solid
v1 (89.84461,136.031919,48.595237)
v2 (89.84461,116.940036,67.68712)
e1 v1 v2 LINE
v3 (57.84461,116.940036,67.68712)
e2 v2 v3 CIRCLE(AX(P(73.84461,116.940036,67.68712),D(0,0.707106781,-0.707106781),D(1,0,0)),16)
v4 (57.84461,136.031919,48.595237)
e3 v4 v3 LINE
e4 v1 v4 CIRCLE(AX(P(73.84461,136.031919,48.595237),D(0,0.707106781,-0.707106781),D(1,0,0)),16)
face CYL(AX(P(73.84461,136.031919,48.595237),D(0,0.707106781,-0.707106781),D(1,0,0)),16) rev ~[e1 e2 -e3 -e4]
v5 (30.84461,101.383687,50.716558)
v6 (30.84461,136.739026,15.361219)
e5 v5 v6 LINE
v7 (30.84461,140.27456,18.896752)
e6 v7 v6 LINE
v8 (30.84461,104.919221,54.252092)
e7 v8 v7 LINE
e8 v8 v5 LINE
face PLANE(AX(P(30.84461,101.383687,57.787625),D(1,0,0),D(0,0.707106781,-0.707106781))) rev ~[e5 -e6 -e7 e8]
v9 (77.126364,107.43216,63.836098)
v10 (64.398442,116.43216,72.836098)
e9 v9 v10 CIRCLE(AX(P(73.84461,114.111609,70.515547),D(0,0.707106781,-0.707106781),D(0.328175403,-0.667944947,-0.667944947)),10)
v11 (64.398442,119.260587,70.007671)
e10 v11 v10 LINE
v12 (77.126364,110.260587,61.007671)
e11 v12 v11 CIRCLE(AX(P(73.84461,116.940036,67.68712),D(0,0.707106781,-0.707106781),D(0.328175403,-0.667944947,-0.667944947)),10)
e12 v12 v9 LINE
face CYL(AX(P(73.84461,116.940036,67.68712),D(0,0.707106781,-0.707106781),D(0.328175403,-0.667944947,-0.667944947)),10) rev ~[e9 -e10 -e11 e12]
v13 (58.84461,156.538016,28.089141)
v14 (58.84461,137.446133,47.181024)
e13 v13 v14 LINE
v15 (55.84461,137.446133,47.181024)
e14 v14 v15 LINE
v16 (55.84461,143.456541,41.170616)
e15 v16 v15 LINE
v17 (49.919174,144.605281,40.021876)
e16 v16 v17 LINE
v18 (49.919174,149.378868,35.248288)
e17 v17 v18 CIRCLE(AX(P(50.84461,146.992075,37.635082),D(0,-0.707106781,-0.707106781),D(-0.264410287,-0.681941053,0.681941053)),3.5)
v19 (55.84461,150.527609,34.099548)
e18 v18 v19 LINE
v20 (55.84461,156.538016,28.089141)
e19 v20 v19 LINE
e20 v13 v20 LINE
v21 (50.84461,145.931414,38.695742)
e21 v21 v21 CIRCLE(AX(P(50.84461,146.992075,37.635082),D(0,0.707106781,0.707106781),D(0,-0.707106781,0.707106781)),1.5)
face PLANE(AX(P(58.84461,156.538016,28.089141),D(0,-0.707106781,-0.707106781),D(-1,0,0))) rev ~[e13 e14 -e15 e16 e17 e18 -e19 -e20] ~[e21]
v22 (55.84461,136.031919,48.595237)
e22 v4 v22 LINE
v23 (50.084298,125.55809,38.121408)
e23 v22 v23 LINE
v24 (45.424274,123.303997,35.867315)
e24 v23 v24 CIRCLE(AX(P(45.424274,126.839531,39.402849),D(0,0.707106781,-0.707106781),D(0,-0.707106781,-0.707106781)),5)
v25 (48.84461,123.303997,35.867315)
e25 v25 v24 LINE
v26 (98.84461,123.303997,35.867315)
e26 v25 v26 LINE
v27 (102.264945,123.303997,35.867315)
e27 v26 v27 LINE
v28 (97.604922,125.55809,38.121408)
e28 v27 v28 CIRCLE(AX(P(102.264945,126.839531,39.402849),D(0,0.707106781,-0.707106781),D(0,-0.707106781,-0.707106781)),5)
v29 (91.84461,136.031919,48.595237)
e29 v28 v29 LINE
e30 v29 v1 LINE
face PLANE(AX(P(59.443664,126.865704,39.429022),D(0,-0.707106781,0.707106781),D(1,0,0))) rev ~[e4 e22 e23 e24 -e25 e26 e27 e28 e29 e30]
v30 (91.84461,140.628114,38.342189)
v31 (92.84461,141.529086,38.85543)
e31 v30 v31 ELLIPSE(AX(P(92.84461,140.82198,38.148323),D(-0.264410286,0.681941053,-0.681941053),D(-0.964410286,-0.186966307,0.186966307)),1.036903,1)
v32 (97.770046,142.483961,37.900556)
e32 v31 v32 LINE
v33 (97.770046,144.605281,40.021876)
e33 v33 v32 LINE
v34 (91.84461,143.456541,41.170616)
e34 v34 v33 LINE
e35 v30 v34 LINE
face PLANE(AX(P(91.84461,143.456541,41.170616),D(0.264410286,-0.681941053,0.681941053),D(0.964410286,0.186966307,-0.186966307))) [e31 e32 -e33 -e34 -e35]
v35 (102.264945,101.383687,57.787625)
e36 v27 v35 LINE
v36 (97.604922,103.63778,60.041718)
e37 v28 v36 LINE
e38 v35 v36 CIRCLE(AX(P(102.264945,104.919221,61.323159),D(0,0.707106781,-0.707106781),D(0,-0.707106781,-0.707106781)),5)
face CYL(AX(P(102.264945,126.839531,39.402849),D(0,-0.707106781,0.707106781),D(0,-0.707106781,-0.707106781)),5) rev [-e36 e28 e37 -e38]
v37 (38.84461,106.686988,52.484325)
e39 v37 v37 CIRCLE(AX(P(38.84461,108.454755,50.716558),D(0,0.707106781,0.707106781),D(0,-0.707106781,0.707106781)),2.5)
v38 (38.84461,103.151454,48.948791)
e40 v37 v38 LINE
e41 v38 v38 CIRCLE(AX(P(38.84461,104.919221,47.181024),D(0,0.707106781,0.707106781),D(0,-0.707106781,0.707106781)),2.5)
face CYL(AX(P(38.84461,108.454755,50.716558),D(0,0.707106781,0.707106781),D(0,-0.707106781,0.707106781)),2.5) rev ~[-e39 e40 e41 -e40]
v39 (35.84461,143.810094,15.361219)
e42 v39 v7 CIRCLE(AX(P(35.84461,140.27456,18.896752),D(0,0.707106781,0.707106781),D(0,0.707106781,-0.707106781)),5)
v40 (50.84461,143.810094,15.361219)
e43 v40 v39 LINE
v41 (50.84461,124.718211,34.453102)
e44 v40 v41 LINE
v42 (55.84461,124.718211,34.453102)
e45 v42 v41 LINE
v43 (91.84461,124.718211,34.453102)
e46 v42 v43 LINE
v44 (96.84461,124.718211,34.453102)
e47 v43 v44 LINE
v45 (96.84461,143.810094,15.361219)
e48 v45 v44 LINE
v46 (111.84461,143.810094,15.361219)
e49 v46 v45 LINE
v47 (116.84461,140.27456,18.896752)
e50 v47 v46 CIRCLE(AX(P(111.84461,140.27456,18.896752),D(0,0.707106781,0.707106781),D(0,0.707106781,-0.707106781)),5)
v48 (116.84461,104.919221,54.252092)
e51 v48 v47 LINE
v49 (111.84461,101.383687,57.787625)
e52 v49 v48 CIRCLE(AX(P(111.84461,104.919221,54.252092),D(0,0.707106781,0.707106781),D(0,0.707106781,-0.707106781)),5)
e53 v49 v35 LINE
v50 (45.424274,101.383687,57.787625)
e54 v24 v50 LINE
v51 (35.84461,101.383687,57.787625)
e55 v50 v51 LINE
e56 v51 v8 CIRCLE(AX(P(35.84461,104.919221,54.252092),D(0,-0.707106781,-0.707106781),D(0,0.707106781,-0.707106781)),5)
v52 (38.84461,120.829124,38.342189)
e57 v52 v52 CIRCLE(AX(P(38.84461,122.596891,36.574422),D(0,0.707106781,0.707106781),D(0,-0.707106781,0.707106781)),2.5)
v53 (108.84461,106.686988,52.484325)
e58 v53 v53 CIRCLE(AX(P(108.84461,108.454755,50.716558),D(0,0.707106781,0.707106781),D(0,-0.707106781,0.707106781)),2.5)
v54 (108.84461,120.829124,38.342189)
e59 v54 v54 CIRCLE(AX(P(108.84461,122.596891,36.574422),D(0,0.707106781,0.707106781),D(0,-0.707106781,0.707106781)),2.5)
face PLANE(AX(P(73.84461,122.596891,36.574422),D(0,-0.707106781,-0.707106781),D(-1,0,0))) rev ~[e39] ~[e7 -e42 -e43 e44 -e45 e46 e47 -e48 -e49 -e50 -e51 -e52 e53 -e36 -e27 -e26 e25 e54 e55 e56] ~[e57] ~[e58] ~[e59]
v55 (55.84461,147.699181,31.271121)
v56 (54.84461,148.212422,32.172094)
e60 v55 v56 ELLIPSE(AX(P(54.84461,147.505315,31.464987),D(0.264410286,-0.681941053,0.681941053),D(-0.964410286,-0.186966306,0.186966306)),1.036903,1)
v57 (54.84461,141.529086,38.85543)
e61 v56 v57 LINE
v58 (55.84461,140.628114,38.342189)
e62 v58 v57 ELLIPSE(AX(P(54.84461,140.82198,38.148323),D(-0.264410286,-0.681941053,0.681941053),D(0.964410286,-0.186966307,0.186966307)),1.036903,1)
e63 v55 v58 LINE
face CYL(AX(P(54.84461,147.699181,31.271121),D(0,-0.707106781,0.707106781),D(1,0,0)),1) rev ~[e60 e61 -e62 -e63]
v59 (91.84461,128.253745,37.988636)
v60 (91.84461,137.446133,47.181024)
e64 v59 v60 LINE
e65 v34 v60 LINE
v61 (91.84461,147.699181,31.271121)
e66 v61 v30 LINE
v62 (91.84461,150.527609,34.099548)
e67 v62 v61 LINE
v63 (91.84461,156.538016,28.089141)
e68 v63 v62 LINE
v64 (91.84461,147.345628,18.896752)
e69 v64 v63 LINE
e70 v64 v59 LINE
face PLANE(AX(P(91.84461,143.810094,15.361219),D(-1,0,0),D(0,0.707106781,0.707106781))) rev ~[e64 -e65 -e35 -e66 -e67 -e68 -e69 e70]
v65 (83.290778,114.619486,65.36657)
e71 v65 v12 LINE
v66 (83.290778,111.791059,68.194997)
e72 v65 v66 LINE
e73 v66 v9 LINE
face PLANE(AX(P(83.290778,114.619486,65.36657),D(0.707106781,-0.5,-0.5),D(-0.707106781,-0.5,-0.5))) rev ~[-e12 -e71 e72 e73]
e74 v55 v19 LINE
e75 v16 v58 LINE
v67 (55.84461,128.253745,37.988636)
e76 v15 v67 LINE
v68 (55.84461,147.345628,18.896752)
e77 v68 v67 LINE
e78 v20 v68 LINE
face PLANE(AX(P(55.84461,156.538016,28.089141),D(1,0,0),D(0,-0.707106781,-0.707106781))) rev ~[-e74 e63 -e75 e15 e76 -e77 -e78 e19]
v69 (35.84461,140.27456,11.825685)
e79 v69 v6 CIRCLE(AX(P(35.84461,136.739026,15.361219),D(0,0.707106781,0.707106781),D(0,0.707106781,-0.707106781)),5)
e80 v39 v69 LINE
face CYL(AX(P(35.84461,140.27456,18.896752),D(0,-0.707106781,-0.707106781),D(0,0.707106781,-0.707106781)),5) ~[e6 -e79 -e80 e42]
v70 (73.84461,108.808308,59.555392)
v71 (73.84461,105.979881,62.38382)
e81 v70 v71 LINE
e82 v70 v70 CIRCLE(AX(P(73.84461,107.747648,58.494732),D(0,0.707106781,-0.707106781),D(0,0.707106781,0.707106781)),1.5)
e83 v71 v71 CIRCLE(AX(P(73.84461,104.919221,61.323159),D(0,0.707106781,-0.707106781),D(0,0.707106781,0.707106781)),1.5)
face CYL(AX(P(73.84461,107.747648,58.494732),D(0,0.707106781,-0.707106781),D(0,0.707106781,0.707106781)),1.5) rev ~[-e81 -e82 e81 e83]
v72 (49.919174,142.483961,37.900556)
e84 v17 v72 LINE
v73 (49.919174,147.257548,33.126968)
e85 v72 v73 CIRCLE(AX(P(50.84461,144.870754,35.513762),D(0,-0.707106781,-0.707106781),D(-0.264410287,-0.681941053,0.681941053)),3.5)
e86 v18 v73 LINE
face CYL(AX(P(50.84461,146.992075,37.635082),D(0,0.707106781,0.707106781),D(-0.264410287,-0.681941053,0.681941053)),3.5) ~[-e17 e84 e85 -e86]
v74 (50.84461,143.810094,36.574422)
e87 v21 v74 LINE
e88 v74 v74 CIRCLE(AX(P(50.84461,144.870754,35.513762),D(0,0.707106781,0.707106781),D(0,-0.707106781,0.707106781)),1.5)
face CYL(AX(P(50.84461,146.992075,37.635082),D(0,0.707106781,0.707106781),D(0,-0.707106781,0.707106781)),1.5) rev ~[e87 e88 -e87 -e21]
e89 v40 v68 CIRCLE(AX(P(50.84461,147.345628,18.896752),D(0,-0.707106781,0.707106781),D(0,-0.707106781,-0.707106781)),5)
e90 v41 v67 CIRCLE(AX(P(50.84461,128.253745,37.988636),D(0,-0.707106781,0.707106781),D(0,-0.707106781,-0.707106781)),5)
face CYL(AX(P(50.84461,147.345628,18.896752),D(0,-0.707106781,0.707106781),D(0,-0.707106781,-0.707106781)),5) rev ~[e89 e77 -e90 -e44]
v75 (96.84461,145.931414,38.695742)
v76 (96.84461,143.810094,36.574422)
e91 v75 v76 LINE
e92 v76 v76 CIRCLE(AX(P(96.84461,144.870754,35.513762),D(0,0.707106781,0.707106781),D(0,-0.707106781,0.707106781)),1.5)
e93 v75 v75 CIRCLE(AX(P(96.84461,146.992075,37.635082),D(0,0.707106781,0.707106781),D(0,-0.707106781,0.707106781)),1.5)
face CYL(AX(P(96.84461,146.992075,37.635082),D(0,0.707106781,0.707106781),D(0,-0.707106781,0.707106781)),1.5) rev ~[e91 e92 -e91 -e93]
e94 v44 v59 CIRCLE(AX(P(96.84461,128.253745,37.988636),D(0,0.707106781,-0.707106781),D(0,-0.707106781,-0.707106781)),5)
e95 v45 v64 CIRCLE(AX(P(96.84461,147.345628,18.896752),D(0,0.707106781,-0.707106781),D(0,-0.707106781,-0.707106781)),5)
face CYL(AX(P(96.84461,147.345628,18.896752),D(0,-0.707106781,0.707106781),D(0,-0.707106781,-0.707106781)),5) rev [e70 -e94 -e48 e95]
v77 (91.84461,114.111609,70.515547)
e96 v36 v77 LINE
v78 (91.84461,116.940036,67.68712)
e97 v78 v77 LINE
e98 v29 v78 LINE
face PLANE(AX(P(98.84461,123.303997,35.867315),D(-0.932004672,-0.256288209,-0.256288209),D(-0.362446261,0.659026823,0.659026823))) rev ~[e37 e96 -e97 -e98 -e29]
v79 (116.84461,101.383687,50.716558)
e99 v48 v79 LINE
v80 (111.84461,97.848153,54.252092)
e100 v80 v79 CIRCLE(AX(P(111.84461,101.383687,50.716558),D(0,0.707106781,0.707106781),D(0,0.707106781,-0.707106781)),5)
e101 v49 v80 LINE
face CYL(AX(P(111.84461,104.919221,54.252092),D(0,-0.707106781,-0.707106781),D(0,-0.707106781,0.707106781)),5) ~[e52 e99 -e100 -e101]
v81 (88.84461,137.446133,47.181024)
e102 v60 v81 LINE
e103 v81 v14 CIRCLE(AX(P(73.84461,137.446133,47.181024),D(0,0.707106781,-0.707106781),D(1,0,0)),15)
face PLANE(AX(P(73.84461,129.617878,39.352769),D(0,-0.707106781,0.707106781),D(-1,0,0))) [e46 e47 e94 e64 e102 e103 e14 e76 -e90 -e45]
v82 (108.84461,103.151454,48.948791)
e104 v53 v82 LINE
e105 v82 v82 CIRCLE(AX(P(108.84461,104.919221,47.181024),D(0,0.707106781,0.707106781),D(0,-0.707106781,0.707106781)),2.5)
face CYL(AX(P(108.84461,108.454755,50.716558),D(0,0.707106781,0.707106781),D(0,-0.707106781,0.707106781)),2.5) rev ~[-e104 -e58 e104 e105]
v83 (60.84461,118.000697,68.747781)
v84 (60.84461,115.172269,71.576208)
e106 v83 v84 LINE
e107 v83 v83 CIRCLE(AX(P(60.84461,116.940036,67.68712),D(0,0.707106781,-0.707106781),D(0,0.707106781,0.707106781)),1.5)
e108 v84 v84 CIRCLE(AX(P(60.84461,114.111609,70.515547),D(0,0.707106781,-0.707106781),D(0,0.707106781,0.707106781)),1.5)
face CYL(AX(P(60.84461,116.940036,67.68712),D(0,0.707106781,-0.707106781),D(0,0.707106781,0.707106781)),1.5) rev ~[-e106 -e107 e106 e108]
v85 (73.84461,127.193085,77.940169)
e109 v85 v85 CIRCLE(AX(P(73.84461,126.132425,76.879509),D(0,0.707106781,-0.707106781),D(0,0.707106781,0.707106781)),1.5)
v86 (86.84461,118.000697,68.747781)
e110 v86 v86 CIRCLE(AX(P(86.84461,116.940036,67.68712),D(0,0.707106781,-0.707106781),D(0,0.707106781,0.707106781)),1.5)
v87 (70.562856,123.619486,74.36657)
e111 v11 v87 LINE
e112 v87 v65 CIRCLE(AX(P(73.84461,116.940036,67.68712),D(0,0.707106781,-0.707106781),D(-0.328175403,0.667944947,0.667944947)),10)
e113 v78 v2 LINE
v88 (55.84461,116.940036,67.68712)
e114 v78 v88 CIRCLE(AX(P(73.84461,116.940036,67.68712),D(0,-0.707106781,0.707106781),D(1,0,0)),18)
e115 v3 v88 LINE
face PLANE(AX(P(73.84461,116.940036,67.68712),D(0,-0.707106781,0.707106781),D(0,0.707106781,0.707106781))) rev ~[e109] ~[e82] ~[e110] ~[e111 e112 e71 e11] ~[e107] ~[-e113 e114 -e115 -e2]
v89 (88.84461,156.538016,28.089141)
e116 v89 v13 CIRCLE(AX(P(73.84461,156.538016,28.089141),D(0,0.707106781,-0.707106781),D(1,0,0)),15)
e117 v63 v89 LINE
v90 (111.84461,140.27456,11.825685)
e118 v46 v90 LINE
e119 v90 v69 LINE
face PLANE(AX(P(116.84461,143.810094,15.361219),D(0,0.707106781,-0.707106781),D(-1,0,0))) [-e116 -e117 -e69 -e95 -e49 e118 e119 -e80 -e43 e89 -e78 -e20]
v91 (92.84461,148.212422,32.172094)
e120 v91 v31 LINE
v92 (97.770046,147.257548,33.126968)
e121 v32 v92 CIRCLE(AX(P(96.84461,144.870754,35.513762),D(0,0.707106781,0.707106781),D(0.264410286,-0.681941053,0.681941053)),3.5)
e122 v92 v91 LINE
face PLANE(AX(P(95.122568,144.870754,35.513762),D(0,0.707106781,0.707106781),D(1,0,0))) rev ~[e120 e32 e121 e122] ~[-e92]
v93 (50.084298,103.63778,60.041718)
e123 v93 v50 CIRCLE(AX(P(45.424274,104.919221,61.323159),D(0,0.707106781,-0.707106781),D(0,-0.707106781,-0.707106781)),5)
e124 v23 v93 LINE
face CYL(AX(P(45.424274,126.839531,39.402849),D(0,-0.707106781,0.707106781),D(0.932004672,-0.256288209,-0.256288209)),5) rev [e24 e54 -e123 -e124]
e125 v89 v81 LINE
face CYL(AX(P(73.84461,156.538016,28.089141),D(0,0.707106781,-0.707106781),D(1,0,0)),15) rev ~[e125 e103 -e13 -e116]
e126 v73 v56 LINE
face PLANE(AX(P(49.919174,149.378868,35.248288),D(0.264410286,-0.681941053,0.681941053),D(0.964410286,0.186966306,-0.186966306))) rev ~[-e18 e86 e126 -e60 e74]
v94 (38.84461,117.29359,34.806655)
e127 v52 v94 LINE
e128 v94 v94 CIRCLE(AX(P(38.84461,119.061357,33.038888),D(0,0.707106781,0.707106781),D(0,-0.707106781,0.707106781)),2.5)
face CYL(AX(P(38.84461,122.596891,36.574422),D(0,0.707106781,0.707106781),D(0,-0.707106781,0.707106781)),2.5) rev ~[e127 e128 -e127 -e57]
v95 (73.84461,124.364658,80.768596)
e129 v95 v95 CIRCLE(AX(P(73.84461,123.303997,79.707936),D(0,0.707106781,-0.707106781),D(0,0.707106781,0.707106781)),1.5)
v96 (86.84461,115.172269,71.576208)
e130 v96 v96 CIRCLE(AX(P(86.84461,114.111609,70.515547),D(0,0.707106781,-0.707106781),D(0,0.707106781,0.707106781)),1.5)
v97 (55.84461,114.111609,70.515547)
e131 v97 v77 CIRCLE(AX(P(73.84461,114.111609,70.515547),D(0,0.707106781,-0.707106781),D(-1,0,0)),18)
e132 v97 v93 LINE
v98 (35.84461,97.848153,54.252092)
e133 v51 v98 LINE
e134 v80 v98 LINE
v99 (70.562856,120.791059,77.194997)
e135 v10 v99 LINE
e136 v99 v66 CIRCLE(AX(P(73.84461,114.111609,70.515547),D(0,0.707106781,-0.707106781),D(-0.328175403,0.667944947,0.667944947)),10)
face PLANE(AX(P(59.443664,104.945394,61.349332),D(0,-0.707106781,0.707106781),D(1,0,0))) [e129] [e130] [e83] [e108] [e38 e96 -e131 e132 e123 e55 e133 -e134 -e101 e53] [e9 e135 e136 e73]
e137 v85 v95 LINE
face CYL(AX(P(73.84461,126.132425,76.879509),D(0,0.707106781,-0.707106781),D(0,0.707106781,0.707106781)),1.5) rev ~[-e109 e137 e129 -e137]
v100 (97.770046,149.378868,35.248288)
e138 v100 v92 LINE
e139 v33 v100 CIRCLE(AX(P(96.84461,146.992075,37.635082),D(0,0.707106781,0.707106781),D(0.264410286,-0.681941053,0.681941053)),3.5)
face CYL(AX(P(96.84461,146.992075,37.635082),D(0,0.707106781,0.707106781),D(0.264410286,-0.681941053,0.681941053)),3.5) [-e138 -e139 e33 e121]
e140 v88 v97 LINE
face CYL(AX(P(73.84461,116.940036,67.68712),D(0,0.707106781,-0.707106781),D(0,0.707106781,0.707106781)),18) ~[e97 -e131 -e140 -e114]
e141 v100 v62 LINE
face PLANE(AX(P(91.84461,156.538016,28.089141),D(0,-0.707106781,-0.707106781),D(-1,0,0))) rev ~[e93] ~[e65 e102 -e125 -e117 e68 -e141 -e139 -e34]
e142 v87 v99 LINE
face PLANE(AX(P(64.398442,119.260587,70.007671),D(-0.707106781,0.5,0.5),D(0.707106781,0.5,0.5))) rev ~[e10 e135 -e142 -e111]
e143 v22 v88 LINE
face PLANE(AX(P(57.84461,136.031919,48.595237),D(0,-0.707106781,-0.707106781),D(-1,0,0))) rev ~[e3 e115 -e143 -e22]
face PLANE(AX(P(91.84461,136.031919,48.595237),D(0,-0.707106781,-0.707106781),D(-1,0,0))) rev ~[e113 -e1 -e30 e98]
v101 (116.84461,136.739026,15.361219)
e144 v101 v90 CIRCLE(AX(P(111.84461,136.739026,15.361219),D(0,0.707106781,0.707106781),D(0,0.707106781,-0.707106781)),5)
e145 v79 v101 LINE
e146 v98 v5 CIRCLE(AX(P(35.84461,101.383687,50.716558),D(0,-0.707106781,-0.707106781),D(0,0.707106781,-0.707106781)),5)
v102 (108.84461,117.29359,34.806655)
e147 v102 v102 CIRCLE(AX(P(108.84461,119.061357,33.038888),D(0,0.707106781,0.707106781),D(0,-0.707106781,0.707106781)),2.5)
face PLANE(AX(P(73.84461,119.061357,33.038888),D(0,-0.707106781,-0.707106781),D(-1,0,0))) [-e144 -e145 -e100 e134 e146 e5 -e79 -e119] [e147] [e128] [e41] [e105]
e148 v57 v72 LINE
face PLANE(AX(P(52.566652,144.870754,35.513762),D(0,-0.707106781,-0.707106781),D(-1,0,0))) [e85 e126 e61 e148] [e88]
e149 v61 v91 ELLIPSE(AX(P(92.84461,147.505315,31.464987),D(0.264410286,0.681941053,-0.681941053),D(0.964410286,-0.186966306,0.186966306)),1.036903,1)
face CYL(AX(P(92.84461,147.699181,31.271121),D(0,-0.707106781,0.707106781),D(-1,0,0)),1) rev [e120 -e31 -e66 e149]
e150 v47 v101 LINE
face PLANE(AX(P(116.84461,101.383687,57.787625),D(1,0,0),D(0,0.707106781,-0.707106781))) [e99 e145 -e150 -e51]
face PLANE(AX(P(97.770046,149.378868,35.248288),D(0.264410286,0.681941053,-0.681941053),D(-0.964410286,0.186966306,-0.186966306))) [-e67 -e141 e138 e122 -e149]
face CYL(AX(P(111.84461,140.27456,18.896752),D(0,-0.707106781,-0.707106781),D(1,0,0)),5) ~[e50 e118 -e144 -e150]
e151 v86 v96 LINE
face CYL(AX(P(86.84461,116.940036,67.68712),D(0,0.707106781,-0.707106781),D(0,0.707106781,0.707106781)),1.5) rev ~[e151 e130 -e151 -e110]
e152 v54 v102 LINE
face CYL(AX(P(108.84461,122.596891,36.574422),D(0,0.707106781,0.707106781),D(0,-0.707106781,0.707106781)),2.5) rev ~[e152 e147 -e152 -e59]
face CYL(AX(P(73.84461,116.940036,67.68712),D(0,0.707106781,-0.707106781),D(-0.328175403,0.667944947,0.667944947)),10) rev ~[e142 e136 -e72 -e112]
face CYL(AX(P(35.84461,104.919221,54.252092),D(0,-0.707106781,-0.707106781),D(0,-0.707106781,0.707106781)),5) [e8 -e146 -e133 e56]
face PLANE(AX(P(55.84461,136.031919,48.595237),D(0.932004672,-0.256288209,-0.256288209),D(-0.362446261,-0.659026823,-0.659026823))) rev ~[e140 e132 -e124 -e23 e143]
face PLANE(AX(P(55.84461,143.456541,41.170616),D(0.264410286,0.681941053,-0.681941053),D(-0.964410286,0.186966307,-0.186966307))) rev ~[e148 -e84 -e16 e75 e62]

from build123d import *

# Parameters (mm, degrees)
SKETCH1_R           = 18
BOSS_EXTRUDE1_DEPTH = 4
CUT_EXTRUDE1_REACH  = 178.366
SKETCH2_R           = 1.5
BOSS_EXTRUDE2_START = 27
BOSS_EXTRUDE2_DEPTH = 27
SKETCH4_W           = 86
SKETCH4_H           = 60
BOSS_EXTRUDE5_DEPTH = 5
BOSS_EXTRUDE6_START = -31
BOSS_EXTRUDE6_DEPTH = 31
BOSS_EXTRUDE7_DEPTH = 27
SKETCH9_R           = 1.5
BOSS_EXTRUDE8_DEPTH = 3
FILLET2_R           = 5
FILLET3_R           = 1
CUT_EXTRUDE2_REACH  = 157.453
SKETCH10_R          = 2.5


with BuildPart() as part:
    # Sketch1 → Boss-Extrude1 (new body)
    with BuildSketch(Plane(origin=(0, 24.62645802, -24.62645802), x_dir=(1, 0, 0), z_dir=(2.4702462297909737e-15, -0.70710678118655, 0.707106781186545))):
        with Locations(Location((73.844609768, 130.551114539, 0), (0, 0, 90))):
            Circle(SKETCH1_R)
        with BuildLine():
            Line((83.2907778, 127.269360509), (77.126363797, 121.104946506))
            ThreePointArc((77.126363797, 121.104946506), (66.773541956, 123.480046727), (64.398441736, 133.832868568))
            Line((64.398441736, 133.832868568), (70.562855738, 139.997282571))
            ThreePointArc((70.562855738, 139.997282571), (80.91567758, 137.62218235), (83.2907778, 127.269360509))
        make_face(mode=Mode.SUBTRACT)
    extrude(amount=BOSS_EXTRUDE1_DEPTH)

    # Sketch2 → Cut-Extrude1 (cut, up to next)
    with BuildSketch(Plane(origin=(0, 24.62645802, -24.62645802), x_dir=(1, 0, 0), z_dir=(-2.4702462297909737e-15, 0.70710678118655, -0.707106781186545)), mode=Mode.PRIVATE) as cut_extrude1_sk1:
        with Locations(Location((86.844609768, -130.551114539, 0), (0, 0, 270))):
            Circle(SKETCH2_R)
    cut_extrude1_tool1 = extrude(cut_extrude1_sk1.sketch, amount=-CUT_EXTRUDE1_REACH, mode=Mode.PRIVATE) & part.part
    # Sketch2 → Cut-Extrude1 (cut, up to next)
    with BuildSketch(Plane(origin=(0, 24.62645802, -24.62645802), x_dir=(1, 0, 0), z_dir=(-2.4702462297909737e-15, 0.70710678118655, -0.707106781186545)), mode=Mode.PRIVATE) as cut_extrude1_sk2:
        with Locations(Location((73.844609768, -143.551114539, 0), (0, 0, 270))):
            Circle(SKETCH2_R)
    cut_extrude1_tool2 = extrude(cut_extrude1_sk2.sketch, amount=-CUT_EXTRUDE1_REACH, mode=Mode.PRIVATE) & part.part
    # Sketch2 → Cut-Extrude1 (cut, up to next)
    with BuildSketch(Plane(origin=(0, 24.62645802, -24.62645802), x_dir=(1, 0, 0), z_dir=(-2.4702462297909737e-15, 0.70710678118655, -0.707106781186545)), mode=Mode.PRIVATE) as cut_extrude1_sk3:
        with Locations(Location((60.844609768, -130.551114539, 0), (0, 0, 270))):
            Circle(SKETCH2_R)
    cut_extrude1_tool3 = extrude(cut_extrude1_sk3.sketch, amount=-CUT_EXTRUDE1_REACH, mode=Mode.PRIVATE) & part.part
    # Sketch2 → Cut-Extrude1 (cut, up to next)
    with BuildSketch(Plane(origin=(0, 24.62645802, -24.62645802), x_dir=(1, 0, 0), z_dir=(-2.4702462297909737e-15, 0.70710678118655, -0.707106781186545)), mode=Mode.PRIVATE) as cut_extrude1_sk4:
        with Locations(Location((73.844609768, -117.551114539, 0), (0, 0, 270))):
            Circle(SKETCH2_R)
    cut_extrude1_tool4 = extrude(cut_extrude1_sk4.sketch, amount=-CUT_EXTRUDE1_REACH, mode=Mode.PRIVATE) & part.part
    add(cut_extrude1_tool1.solids().sort_by_distance((86.84461, 116.940036, 67.68712))[0], mode=Mode.SUBTRACT)
    add(cut_extrude1_tool2.solids().sort_by_distance((73.84461, 126.132425, 76.879509))[0], mode=Mode.SUBTRACT)
    add(cut_extrude1_tool3.solids().sort_by_distance((60.84461, 116.940036, 67.68712))[0], mode=Mode.SUBTRACT)
    add(cut_extrude1_tool4.solids().sort_by_distance((73.84461, 107.747648, 58.494732))[0], mode=Mode.SUBTRACT)

    # Sketch3 → Boss-Extrude2 (add)
    with BuildSketch(Plane(origin=(0, 24.62645802, -24.62645802), x_dir=(1, 0, 0), z_dir=(-2.4702462297909737e-15, 0.70710678118655, -0.707106781186545)).offset(BOSS_EXTRUDE2_START)):
        with BuildLine():
            Line((91.844609768, -130.551114539), (89.844609768, -130.551114539))
            ThreePointArc((89.844609768, -130.551114539), (73.844609768, -114.551114539), (57.844609768, -130.551114539))
            Line((57.844609768, -130.551114539), (55.844609768, -130.551114539))
            ThreePointArc((55.844609768, -130.551114539), (73.844609768, -112.551114539), (91.844609768, -130.551114539))
        make_face()
    extrude(amount=-BOSS_EXTRUDE2_DEPTH)



with BuildPart() as body_2:
    # Sketch4 → Boss-Extrude5 (new body)
    with BuildSketch(Plane(origin=(0, 79.58565632, 79.58565632), x_dir=(-1, 0, 0), z_dir=(0, -0.7071067811865451, -0.70710678118655))):
        with Locations((-73.844609768, 60.827070924)):
            Rectangle(SKETCH4_W, SKETCH4_H)
    extrude(amount=BOSS_EXTRUDE5_DEPTH)


with BuildPart() as part_1:
    add(part.part)

    add(body_2.part)  # Boss-Extrude6 merges body 2
    # Sketch6 → Boss-Extrude6 (add)
    with BuildSketch(Plane(origin=(0, 21.798030895, -21.798030895), x_dir=(1, 0, 0), z_dir=(2.4702462297909737e-15, -0.70710678118655, 0.707106781186545)).offset(BOSS_EXTRUDE6_START)):
        with BuildLine():
            ThreePointArc((73.844609768, 112.551114539), (61.116687706, 117.823192477), (55.844609768, 130.551114539))
            Line((55.844609768, 130.551114539), (48.844609768, 112.551114539))
            Line((48.844609768, 112.551114539), (73.844609768, 112.551114539))
        make_face()
        with BuildLine():
            Line((57.844609768, 130.551114539), (55.844609768, 130.551114539))
            ThreePointArc((55.844609768, 130.551114539), (61.116687706, 117.823192477), (73.844609768, 112.551114539))
            ThreePointArc((73.844609768, 112.551114539), (86.572531829, 117.823192477), (91.844609768, 130.551114539))
            Line((91.844609768, 130.551114539), (89.844609768, 130.551114539))
            ThreePointArc((89.844609768, 130.551114539), (73.844609768, 114.551114539), (57.844609768, 130.551114539))
        make_face()
        with BuildLine():
            ThreePointArc((91.844609768, 130.551114539), (86.572531829, 117.823192477), (73.844609768, 112.551114539))
            Line((73.844609768, 112.551114539), (98.844609768, 112.551114539))
            Line((98.844609768, 112.551114539), (91.844609768, 130.551114539))
        make_face()
    extrude(amount=BOSS_EXTRUDE6_DEPTH)

    # Sketch8 → Boss-Extrude7 (add)
    with BuildSketch(Plane(origin=(0, 64.224437766, -64.224437766), x_dir=(1, 0, 0), z_dir=(0, 0.7071067811865498, -0.7071067811865452))):
        with BuildLine():
            Line((91.844609768, -130.551114539), (88.844609768, -130.551114539))
            ThreePointArc((88.844609768, -130.551114539), (73.844609768, -115.551114539), (58.844609768, -130.551114539))
            Line((58.844609768, -130.551114539), (55.844609768, -130.551114539))
            Line((55.844609768, -130.551114539), (55.844609768, -112.551114539))
            Line((55.844609768, -112.551114539), (91.844609768, -112.551114539))
            Line((91.844609768, -112.551114539), (91.844609768, -130.551114539))
        make_face()
    extrude(amount=-BOSS_EXTRUDE7_DEPTH)

    # Sketch9 → Boss-Extrude8 (add)
    # profile 1 of 2: a face of its own
    with BuildSketch(Plane(origin=(0, 92.313578382, 92.313578382), x_dir=(1, 0, 0), z_dir=(-6.542051911181989e-15, 0.7071067811865454, 0.7071067811865497))):
        with BuildLine():
            Line((55.844609768, 72.327070924), (49.919173765, 73.951634922))
            ThreePointArc((49.919173765, 73.951634922), (47.344609768, 77.327070924), (49.919173765, 80.702506927))
            Line((49.919173765, 80.702506927), (55.844609768, 82.327070924))
            Line((55.844609768, 82.327070924), (55.844609768, 72.327070924))
        make_face()
        with Locations(Location((50.844609768, 77.327070924, 0), (0, 0, 270))):
            Circle(SKETCH9_R, mode=Mode.SUBTRACT)
    # profile 2 of 2: a face of its own
    with BuildSketch(Plane(origin=(0, 92.313578382, 92.313578382), x_dir=(1, 0, 0), z_dir=(-6.542051911181989e-15, 0.7071067811865454, 0.7071067811865497))):
        with BuildLine():
            Line((97.77004577, 80.702506927), (91.844609768, 82.327070924))
            Line((91.844609768, 82.327070924), (91.844609768, 72.327070924))
            Line((91.844609768, 72.327070924), (97.77004577, 73.951634922))
            ThreePointArc((97.77004577, 73.951634922), (100.344609768, 77.327070924), (97.77004577, 80.702506927))
        make_face()
        with Locations(Location((96.844609768, 77.327070924, 0), (0, 0, 270))):
            Circle(SKETCH9_R, mode=Mode.SUBTRACT)
    extrude(amount=-BOSS_EXTRUDE8_DEPTH)

    # Fillet2
    fillet2_edges = [part_1.edges().sort_by_distance(p)[0] for p in [
        (98.844609768, 112.343842324, 46.827470317),
        (48.844609768, 112.343842324, 46.827470317),
        (30.844609768, 99.615920262, 56.019858473),
        (30.844609768, 142.042327133, 13.593451601),
        (116.844609768, 142.042327133, 13.593451601),
        (116.844609768, 99.615920262, 56.019858473),
        (91.844609768, 134.26415254, 24.9071601),
        (55.844609768, 134.26415254, 24.9071601),
    ]]
    fillet(fillet2_edges, radius=FILLET2_R)

    # Fillet3
    fillet3_edges = [part_1.edges().sort_by_distance(p)[0] for p in [
        (55.844609768, 144.870754258, 35.513761818),
        (91.844609768, 144.870754258, 35.513761818),
    ]]
    fillet(fillet3_edges, radius=FILLET3_R)

    # Sketch10 → Cut-Extrude2 (cut, up to next)
    with BuildSketch(Plane(origin=(0, 79.58565632, 79.58565632), x_dir=(1, 0, 0), z_dir=(0, 0.7071067811865451, 0.70710678118655)), mode=Mode.PRIVATE) as cut_extrude2_sk1:
        with Locations(Location((108.844609768, 40.827070924, 0), (0, 0, 270))):
            Circle(SKETCH10_R)
    cut_extrude2_tool1 = extrude(cut_extrude2_sk1.sketch, amount=-CUT_EXTRUDE2_REACH, mode=Mode.PRIVATE) & part_1.part
    # Sketch10 → Cut-Extrude2 (cut, up to next)
    with BuildSketch(Plane(origin=(0, 79.58565632, 79.58565632), x_dir=(1, 0, 0), z_dir=(0, 0.7071067811865451, 0.70710678118655)), mode=Mode.PRIVATE) as cut_extrude2_sk2:
        with Locations(Location((38.844609768, 40.827070924, 0), (0, 0, 270))):
            Circle(SKETCH10_R)
    cut_extrude2_tool2 = extrude(cut_extrude2_sk2.sketch, amount=-CUT_EXTRUDE2_REACH, mode=Mode.PRIVATE) & part_1.part
    # Sketch10 → Cut-Extrude2 (cut, up to next)
    with BuildSketch(Plane(origin=(0, 79.58565632, 79.58565632), x_dir=(1, 0, 0), z_dir=(0, 0.7071067811865451, 0.70710678118655)), mode=Mode.PRIVATE) as cut_extrude2_sk3:
        with Locations(Location((108.844609768, 60.827070924, 0), (0, 0, 270))):
            Circle(SKETCH10_R)
    cut_extrude2_tool3 = extrude(cut_extrude2_sk3.sketch, amount=-CUT_EXTRUDE2_REACH, mode=Mode.PRIVATE) & part_1.part
    # Sketch10 → Cut-Extrude2 (cut, up to next)
    with BuildSketch(Plane(origin=(0, 79.58565632, 79.58565632), x_dir=(1, 0, 0), z_dir=(0, 0.7071067811865451, 0.70710678118655)), mode=Mode.PRIVATE) as cut_extrude2_sk4:
        with Locations(Location((38.844609768, 60.827070924, 0), (0, 0, 270))):
            Circle(SKETCH10_R)
    cut_extrude2_tool4 = extrude(cut_extrude2_sk4.sketch, amount=-CUT_EXTRUDE2_REACH, mode=Mode.PRIVATE) & part_1.part
    add(cut_extrude2_tool1.solids().sort_by_distance((108.84461, 108.454755, 50.716558))[0], mode=Mode.SUBTRACT)
    add(cut_extrude2_tool2.solids().sort_by_distance((38.84461, 108.454755, 50.716558))[0], mode=Mode.SUBTRACT)
    add(cut_extrude2_tool3.solids().sort_by_distance((108.84461, 122.596891, 36.574422))[0], mode=Mode.SUBTRACT)
    add(cut_extrude2_tool4.solids().sort_by_distance((38.84461, 122.596891, 36.574422))[0], mode=Mode.SUBTRACT)


solid = part_1.part
